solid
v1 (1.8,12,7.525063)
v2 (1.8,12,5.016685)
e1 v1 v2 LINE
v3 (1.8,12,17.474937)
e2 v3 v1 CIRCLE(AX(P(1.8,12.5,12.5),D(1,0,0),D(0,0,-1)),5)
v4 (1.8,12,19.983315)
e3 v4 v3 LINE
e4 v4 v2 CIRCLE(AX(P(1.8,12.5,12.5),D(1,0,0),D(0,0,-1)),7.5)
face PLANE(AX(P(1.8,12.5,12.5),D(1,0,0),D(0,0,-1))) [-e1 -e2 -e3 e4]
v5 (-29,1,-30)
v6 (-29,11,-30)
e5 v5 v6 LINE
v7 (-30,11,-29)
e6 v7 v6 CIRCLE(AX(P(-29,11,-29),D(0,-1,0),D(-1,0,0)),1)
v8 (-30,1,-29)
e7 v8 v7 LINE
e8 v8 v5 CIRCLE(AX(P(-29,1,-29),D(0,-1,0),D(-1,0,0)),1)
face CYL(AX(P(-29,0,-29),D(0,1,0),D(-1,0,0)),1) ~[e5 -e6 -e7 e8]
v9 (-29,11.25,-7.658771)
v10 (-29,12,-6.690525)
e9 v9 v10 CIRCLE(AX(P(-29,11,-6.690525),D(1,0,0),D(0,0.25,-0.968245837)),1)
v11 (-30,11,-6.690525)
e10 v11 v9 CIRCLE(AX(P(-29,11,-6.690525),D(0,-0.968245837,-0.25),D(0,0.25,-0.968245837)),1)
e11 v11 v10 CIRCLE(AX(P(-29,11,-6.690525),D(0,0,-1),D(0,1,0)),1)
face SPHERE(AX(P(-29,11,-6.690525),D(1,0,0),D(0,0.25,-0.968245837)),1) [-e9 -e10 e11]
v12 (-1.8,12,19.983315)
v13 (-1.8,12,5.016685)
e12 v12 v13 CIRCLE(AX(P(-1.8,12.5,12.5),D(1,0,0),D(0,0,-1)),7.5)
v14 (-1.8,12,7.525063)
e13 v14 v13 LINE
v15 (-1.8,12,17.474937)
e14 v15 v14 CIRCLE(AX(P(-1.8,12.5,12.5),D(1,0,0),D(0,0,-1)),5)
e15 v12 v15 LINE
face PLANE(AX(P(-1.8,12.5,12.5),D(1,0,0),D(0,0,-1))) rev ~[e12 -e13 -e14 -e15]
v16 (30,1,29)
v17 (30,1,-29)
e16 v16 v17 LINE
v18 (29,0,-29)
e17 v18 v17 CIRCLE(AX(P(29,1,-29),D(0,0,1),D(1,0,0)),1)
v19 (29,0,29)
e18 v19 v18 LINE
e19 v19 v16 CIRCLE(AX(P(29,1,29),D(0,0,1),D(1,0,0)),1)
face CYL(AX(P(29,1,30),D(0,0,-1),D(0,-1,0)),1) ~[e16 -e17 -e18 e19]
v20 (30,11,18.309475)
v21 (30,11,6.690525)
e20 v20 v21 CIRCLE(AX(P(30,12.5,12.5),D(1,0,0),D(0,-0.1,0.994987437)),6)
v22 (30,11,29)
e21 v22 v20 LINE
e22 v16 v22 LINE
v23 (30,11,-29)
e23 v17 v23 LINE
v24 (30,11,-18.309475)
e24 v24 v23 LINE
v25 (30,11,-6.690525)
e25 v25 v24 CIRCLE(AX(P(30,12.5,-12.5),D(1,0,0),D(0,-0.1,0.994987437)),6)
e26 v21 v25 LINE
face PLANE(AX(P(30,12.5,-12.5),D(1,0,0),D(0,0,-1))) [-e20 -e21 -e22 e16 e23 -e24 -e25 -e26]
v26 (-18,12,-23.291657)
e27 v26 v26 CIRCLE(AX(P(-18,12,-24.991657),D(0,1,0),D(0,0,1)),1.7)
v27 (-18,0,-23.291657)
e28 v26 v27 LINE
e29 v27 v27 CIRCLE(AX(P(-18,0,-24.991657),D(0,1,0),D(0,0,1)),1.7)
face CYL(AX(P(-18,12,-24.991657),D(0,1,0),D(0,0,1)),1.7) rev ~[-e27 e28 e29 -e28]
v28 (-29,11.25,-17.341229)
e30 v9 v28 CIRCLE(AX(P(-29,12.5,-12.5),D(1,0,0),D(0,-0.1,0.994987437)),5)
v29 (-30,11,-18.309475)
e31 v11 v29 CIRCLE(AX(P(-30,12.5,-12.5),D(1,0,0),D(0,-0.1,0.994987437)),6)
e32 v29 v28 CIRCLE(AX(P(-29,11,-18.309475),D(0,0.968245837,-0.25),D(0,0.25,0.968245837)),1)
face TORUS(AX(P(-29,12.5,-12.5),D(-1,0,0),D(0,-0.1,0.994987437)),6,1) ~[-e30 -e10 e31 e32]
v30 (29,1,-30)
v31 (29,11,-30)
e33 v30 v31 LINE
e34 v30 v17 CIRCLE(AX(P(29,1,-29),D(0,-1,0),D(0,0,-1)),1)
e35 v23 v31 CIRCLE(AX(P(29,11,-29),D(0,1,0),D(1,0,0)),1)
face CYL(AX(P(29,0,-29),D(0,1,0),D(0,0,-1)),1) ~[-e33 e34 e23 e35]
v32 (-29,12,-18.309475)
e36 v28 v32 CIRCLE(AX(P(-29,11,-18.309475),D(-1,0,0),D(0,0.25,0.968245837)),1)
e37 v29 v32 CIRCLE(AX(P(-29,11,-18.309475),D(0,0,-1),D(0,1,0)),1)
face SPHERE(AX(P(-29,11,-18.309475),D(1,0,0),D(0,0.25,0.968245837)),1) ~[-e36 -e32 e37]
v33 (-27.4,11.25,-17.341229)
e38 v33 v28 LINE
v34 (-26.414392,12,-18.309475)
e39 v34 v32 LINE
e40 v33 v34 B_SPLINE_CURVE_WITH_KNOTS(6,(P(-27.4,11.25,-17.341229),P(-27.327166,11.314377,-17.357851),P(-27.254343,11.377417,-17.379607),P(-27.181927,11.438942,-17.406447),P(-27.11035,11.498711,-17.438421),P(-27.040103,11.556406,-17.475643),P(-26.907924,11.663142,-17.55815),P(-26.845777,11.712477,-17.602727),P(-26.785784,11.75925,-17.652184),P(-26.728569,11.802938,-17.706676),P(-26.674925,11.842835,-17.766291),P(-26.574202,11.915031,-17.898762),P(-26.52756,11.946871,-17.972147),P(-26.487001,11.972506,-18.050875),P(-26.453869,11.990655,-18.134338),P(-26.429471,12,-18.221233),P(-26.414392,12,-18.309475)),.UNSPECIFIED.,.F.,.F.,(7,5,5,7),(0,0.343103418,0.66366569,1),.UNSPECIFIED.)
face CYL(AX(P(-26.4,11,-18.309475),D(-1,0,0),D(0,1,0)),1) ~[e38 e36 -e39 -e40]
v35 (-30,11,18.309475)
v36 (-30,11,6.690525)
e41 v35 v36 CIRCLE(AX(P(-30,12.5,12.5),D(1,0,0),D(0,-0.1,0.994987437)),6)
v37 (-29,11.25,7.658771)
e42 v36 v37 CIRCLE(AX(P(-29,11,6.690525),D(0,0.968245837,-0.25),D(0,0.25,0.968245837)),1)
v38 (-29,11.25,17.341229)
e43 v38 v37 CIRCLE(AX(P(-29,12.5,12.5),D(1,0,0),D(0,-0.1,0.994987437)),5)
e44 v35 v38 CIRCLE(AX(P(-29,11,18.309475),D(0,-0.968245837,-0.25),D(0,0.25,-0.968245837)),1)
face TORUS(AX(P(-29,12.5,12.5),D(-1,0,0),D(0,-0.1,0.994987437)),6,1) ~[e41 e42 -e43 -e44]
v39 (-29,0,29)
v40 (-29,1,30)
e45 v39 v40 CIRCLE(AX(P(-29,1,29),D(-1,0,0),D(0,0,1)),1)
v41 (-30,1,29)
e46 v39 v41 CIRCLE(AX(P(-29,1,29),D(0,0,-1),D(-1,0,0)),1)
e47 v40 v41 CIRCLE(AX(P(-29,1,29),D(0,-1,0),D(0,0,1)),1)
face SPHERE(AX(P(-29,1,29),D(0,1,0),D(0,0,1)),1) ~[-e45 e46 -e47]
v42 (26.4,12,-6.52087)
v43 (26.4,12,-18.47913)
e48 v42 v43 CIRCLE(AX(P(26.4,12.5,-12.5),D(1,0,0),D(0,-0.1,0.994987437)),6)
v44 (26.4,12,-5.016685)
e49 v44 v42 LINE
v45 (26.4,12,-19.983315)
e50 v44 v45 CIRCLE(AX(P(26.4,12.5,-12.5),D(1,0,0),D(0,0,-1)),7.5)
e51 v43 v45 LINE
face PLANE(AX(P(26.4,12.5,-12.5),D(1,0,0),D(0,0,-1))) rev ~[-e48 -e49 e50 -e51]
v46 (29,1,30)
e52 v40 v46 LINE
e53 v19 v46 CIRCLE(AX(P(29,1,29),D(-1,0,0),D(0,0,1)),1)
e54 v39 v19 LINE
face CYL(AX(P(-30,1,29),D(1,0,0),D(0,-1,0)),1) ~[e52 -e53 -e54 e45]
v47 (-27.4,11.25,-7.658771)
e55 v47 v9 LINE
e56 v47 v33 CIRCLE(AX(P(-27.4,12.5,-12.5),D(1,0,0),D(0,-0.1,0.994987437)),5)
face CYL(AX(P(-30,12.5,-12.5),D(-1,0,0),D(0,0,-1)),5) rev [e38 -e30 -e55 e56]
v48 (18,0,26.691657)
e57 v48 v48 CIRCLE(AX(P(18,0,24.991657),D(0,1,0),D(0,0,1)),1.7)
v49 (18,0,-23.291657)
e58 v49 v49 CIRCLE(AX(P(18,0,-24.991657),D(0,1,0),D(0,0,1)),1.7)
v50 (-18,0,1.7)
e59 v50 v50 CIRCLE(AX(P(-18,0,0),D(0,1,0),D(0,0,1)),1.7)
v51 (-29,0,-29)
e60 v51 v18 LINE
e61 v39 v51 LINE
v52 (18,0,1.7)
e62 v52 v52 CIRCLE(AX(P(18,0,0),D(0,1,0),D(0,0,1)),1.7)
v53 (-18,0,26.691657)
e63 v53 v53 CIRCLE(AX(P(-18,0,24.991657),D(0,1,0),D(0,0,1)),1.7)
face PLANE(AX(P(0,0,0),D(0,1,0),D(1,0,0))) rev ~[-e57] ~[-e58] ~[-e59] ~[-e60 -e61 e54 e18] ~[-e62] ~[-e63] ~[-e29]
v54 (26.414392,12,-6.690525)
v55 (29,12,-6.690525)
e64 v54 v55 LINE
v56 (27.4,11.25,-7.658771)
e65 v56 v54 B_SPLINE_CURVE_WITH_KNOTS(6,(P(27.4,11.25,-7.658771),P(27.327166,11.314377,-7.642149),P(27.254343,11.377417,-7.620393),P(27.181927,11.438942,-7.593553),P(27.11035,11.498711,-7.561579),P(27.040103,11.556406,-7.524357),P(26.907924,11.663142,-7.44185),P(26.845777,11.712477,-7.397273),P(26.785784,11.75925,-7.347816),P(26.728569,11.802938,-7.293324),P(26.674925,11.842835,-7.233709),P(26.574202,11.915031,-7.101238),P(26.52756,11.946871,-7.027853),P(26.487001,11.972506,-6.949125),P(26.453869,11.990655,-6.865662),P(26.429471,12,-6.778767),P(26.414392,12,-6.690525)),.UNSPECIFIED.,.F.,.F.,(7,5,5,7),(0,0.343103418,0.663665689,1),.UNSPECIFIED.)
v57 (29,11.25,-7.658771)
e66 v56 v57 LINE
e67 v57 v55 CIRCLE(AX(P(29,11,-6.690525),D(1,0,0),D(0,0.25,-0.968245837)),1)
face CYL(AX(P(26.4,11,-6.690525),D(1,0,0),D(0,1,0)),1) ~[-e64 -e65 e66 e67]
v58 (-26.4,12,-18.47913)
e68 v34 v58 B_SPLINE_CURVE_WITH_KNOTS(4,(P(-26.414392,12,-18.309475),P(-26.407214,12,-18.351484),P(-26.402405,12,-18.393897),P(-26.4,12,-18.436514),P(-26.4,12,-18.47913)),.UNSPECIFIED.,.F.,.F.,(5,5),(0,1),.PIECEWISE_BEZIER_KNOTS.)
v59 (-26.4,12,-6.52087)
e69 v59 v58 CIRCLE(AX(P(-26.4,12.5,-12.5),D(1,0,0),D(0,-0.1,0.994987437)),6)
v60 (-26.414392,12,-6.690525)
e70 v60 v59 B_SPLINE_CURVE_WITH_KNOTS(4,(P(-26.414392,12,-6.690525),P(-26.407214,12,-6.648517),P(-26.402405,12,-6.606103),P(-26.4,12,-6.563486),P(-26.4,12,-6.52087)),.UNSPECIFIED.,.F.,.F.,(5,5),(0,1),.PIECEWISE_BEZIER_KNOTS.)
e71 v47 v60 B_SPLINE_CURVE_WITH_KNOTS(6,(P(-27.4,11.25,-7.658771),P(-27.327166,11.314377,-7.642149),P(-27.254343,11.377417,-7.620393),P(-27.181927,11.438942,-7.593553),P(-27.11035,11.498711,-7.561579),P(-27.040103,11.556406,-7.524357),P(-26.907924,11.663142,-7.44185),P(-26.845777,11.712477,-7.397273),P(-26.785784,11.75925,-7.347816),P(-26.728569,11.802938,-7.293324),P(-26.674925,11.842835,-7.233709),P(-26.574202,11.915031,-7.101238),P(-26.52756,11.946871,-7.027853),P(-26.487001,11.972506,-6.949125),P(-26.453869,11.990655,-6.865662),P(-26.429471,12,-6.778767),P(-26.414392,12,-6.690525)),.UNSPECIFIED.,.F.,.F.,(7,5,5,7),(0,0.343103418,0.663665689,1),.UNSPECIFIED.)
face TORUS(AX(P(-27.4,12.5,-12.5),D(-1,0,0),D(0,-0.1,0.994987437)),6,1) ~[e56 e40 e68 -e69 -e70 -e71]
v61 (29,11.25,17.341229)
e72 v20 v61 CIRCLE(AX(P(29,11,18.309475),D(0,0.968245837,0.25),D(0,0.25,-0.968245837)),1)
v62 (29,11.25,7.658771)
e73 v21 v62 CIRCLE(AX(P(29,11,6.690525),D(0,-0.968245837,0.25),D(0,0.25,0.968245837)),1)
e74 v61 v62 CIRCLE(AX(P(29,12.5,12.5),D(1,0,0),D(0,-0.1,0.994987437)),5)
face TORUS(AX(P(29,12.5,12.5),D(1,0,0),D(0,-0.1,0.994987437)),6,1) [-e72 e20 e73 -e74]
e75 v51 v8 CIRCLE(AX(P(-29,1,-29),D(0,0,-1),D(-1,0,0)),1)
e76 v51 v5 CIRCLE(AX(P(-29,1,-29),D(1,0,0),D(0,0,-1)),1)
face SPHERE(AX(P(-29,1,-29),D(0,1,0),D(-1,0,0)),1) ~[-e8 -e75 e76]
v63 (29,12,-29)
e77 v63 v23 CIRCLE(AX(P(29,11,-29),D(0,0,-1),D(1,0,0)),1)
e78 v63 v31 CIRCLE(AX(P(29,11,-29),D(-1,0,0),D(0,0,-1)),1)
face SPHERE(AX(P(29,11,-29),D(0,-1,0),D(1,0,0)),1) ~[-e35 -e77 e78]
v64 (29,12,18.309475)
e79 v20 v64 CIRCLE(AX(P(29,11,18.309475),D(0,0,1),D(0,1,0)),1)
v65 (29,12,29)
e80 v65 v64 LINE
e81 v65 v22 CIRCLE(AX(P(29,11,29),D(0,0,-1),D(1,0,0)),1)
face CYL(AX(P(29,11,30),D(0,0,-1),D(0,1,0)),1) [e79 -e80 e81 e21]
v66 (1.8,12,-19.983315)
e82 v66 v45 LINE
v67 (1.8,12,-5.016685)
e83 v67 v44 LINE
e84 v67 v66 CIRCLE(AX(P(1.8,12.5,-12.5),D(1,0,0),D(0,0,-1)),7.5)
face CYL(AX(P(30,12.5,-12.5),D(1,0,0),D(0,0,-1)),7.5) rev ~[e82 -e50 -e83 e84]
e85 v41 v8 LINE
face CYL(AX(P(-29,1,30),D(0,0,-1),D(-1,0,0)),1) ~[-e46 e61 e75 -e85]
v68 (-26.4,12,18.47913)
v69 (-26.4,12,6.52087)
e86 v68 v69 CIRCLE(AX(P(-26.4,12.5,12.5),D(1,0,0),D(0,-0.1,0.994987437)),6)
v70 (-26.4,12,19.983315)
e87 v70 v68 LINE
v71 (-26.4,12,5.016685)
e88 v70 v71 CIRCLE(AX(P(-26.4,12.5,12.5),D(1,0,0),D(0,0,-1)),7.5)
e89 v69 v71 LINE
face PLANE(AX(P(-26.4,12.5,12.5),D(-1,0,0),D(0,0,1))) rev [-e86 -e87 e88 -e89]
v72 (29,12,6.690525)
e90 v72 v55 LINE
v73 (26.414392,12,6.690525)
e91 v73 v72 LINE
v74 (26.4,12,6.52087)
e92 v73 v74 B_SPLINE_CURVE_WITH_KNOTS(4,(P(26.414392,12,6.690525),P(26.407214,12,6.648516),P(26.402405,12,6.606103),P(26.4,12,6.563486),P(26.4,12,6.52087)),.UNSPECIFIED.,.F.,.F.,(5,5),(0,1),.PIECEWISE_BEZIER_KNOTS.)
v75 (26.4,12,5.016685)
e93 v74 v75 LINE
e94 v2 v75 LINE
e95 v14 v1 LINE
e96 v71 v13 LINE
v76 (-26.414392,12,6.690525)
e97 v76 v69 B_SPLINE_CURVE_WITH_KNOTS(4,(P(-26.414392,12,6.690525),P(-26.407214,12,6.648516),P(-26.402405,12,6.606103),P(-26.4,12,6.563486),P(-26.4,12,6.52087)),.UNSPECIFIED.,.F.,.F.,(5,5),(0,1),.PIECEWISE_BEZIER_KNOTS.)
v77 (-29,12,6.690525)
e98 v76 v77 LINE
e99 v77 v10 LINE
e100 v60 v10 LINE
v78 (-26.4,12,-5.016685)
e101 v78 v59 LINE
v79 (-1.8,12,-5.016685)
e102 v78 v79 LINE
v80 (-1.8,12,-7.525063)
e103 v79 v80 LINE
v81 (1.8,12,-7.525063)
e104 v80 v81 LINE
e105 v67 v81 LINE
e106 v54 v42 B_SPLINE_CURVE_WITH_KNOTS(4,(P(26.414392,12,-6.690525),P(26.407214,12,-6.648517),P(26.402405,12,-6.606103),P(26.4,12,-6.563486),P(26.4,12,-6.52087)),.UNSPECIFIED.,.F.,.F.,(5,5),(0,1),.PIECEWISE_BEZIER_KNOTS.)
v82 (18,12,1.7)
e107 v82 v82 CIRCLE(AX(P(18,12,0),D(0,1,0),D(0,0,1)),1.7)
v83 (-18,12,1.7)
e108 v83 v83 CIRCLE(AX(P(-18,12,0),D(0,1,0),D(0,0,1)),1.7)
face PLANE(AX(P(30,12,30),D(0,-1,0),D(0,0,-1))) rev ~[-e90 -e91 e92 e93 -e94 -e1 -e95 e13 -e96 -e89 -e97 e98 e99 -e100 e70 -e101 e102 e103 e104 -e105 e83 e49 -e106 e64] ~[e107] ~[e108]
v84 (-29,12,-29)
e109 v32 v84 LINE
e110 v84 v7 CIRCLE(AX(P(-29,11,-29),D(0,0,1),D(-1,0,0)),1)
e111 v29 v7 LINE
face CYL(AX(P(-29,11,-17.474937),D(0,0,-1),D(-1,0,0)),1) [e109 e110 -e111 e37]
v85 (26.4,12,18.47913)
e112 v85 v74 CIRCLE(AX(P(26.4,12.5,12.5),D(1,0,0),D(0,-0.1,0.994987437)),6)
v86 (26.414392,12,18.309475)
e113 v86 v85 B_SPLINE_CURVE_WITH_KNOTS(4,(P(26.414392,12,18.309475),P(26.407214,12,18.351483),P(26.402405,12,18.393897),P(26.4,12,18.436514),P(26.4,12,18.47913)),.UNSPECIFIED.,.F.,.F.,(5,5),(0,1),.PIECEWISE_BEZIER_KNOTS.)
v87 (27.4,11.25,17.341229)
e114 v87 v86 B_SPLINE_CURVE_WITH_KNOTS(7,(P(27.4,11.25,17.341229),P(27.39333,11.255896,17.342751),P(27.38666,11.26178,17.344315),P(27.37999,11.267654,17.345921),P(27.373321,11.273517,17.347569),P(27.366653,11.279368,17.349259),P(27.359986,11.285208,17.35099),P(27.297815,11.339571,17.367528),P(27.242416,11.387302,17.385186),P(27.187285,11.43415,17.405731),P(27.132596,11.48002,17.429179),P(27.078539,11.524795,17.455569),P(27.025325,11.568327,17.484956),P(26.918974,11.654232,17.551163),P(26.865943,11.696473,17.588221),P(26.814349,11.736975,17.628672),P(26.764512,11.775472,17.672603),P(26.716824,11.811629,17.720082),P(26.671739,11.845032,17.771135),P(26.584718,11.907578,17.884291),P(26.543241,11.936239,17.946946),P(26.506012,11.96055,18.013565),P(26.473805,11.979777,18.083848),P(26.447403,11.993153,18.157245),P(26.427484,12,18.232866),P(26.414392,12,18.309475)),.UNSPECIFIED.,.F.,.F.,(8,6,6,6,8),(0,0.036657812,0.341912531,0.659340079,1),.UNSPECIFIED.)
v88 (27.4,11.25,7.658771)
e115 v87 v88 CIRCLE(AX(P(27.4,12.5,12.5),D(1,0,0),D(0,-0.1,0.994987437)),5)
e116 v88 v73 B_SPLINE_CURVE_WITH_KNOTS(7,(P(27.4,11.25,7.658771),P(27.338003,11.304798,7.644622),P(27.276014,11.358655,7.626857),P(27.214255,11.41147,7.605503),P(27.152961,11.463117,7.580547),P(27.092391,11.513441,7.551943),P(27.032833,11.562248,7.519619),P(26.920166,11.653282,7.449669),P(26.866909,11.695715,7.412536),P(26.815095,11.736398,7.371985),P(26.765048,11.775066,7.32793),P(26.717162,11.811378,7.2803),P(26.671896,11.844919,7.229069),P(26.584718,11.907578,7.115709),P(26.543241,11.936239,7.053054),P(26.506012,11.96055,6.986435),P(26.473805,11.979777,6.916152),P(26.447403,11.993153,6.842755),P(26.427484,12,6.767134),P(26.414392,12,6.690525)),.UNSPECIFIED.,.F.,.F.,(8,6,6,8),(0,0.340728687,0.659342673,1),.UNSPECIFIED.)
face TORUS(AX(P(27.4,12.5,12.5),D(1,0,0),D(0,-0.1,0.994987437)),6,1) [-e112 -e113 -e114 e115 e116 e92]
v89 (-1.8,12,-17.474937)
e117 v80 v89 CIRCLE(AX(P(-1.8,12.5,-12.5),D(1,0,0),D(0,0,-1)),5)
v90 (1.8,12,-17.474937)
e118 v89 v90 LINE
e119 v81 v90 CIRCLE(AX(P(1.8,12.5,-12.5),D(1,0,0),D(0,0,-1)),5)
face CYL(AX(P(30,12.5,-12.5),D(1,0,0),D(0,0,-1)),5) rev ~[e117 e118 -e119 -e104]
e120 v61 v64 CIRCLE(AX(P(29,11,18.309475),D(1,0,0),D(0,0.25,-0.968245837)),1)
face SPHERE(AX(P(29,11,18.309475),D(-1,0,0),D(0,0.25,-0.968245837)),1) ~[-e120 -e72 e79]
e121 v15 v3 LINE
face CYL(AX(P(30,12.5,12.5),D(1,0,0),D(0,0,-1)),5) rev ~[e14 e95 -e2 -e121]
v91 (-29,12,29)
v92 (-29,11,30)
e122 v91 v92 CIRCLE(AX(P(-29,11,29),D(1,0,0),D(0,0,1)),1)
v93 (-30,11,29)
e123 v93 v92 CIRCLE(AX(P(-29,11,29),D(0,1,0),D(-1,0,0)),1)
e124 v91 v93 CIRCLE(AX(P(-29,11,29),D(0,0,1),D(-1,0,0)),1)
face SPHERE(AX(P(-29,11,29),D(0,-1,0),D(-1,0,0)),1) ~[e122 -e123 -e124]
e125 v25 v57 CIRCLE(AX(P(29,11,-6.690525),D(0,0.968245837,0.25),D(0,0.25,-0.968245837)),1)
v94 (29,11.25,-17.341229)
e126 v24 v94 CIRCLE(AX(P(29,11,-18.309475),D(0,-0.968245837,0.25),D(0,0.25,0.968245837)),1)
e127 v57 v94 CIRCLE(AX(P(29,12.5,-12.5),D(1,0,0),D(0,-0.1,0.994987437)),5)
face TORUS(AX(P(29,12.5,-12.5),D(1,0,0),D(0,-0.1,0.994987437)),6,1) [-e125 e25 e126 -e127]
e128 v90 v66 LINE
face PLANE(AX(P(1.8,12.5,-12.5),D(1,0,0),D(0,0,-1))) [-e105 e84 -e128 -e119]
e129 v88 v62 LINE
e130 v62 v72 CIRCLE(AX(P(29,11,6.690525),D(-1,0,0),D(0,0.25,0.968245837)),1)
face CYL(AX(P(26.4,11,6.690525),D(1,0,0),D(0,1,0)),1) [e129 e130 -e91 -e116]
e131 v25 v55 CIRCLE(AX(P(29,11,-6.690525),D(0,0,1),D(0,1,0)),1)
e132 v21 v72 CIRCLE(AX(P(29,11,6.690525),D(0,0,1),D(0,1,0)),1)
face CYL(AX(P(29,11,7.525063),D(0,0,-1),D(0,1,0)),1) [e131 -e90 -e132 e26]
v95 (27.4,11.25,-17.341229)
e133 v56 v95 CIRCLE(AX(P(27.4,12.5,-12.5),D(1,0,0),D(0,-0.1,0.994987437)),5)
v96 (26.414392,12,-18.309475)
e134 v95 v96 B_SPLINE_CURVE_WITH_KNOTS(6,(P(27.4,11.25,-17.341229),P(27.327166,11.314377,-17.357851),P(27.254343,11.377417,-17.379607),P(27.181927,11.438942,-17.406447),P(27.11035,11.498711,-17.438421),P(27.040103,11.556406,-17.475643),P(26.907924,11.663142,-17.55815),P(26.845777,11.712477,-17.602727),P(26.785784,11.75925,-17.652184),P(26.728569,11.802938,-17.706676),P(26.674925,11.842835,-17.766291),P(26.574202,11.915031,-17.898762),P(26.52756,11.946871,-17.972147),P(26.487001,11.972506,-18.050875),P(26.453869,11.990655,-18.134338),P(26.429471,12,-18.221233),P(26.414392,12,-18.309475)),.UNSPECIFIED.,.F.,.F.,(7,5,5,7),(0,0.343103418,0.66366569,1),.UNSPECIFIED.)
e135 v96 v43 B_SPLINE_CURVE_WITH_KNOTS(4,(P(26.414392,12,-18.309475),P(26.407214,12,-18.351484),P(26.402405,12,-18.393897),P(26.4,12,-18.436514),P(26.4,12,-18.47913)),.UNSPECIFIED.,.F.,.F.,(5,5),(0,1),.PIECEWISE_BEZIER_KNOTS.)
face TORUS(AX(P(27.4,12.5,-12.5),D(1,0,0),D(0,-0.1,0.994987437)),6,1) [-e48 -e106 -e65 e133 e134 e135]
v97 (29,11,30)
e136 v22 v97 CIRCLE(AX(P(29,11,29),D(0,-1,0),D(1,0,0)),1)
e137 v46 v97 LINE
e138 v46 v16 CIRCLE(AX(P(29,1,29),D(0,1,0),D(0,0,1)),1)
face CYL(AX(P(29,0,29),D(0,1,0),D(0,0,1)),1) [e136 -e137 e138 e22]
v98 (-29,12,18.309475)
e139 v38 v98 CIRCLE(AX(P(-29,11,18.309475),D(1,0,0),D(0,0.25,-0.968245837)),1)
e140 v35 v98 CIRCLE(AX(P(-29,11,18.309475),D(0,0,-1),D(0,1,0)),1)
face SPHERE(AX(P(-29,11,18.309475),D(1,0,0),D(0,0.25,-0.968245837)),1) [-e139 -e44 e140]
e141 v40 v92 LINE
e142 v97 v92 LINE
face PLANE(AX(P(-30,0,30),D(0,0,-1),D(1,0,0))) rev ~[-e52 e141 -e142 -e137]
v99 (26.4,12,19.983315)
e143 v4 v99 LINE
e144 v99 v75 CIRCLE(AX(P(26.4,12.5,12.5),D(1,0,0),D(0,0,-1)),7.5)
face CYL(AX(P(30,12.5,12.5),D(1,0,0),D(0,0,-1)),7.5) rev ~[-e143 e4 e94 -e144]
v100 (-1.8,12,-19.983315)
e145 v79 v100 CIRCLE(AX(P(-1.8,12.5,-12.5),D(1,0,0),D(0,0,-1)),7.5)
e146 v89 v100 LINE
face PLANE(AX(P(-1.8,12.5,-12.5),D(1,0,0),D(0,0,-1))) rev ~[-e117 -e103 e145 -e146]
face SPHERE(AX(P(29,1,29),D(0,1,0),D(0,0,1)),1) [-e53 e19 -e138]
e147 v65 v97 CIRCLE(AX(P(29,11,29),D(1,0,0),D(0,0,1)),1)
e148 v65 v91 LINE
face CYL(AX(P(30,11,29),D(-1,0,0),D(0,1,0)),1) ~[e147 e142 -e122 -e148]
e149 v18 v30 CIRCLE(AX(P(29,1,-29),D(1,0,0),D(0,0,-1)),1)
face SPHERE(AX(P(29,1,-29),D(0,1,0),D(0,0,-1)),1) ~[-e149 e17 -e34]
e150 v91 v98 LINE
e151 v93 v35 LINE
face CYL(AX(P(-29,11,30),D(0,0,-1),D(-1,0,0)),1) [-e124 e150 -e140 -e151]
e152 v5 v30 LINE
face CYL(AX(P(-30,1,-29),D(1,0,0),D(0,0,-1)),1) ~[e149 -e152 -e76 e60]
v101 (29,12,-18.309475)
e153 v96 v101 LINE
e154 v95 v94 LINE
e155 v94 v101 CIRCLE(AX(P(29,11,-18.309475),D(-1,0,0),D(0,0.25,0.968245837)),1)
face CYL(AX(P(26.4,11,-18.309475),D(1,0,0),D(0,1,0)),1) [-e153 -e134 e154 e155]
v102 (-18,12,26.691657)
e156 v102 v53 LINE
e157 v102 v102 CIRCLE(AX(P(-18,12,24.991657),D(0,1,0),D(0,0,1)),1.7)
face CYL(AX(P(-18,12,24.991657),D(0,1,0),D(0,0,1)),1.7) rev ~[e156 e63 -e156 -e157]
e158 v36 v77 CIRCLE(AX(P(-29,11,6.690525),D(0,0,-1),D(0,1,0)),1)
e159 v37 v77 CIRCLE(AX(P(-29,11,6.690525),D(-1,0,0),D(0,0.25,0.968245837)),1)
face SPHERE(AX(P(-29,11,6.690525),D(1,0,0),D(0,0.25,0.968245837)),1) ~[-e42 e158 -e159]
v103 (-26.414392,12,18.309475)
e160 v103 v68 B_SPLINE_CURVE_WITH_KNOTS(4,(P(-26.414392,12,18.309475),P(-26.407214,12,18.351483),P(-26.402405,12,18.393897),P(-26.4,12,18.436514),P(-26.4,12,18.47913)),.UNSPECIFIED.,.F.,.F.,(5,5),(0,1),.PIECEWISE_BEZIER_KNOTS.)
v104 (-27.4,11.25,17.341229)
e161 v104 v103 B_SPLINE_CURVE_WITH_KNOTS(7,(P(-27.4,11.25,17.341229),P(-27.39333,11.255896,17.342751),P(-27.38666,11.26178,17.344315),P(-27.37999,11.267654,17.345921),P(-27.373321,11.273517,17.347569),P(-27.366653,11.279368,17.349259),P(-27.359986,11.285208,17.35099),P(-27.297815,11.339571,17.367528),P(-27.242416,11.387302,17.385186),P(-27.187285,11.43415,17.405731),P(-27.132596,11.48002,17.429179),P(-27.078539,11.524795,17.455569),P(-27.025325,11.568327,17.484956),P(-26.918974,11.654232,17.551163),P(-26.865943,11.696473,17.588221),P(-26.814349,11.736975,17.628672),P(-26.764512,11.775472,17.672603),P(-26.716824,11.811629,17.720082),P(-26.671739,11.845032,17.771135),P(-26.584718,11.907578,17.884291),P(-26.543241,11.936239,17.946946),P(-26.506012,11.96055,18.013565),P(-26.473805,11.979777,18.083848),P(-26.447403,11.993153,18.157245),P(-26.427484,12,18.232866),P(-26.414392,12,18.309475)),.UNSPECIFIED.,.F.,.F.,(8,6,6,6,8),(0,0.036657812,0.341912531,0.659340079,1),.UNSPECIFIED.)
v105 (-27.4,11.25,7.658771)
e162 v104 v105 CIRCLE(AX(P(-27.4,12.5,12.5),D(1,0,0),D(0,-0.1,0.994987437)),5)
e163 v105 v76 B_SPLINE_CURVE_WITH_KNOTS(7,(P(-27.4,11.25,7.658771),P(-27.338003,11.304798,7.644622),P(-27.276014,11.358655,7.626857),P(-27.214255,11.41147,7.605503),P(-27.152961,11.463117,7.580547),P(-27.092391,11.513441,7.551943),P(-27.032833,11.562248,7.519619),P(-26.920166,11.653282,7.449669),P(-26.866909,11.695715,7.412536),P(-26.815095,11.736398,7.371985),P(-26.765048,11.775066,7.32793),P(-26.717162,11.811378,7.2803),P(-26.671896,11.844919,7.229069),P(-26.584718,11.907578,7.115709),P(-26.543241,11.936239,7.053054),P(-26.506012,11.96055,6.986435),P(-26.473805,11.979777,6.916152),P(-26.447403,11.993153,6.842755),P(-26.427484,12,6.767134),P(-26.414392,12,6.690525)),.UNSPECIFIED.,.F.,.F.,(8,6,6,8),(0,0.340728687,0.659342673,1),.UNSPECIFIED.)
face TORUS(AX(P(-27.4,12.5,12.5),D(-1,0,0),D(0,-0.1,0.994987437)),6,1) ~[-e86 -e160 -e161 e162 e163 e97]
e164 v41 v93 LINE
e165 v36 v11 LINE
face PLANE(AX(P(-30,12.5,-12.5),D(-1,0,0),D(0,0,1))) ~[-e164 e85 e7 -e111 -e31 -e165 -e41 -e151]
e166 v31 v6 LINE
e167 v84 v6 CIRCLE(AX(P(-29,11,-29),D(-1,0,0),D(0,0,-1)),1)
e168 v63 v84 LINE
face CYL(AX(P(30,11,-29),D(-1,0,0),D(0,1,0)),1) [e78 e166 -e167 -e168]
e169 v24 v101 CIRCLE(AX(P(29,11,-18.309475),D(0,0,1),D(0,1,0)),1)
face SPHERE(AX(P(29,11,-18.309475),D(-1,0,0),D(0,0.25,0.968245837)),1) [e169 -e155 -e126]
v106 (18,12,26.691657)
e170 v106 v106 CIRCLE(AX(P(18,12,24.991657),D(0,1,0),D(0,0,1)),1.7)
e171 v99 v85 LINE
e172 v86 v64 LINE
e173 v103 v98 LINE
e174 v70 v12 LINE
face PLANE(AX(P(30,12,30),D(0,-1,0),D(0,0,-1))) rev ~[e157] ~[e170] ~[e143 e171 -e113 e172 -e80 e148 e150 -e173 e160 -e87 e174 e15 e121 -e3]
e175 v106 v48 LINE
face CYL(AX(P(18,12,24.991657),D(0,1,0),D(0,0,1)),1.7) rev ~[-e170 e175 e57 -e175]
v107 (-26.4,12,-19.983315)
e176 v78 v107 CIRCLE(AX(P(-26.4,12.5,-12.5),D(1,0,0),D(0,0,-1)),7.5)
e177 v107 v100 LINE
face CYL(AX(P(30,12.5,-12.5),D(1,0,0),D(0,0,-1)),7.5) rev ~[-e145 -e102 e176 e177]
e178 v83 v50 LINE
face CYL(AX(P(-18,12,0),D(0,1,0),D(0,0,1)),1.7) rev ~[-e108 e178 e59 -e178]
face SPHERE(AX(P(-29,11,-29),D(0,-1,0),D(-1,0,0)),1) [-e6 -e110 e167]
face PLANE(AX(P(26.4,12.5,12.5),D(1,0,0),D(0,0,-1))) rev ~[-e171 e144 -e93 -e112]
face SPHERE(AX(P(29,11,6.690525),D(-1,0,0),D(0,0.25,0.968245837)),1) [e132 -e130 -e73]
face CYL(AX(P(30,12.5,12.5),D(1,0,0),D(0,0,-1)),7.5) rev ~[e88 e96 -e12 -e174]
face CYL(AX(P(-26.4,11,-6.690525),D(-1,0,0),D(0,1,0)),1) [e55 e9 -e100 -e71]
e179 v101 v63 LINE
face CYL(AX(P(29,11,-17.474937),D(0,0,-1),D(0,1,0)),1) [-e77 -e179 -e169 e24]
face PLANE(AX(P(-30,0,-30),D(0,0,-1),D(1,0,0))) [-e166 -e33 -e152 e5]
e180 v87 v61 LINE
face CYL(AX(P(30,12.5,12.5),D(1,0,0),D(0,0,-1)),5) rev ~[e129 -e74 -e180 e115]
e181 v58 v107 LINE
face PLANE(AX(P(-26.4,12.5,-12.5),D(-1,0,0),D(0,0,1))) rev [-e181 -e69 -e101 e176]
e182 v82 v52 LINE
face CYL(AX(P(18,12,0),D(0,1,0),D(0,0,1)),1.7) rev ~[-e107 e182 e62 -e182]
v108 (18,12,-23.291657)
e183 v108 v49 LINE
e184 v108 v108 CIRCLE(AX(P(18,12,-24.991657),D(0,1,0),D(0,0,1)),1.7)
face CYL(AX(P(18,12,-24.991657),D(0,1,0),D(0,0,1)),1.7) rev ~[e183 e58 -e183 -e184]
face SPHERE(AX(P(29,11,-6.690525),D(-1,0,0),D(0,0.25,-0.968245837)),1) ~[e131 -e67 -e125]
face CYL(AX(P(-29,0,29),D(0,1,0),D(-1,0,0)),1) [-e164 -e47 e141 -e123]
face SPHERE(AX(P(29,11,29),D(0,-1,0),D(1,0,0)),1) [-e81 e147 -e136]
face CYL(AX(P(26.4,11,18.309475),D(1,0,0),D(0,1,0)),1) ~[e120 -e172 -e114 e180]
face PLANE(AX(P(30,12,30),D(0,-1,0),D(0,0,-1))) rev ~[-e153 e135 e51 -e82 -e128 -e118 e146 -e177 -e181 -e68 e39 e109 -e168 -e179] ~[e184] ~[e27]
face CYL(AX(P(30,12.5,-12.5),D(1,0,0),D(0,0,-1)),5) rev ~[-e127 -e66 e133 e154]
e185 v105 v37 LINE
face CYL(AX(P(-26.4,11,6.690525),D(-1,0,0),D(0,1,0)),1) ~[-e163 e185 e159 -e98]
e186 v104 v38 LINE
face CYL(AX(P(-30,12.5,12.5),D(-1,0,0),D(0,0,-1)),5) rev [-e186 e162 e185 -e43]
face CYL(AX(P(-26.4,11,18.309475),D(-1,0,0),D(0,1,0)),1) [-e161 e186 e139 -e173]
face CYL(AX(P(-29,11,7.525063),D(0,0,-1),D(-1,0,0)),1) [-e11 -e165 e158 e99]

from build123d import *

# Parameters (mm, degrees)
SKETCH1_W           = 60
SKETCH1_H           = 60
BOSS_EXTRUDE1_DEPTH = 25
CUT_EXTRUDE1_REACH  = 73.589
SKETCH2_R           = 7.5
SKETCH3_R           = 2
CUT_EXTRUDE2_DEPTH  = 5
SKETCH7_R           = 7.5
BOSS_EXTRUDE2_DEPTH = 1.8
SKETCH8_R           = 7.5
SKETCH8_R_2         = 5
BOSS_EXTRUDE3_DEPTH = 3.6
SKETCH4_W           = 60
SKETCH4_H           = 1
CUT_EXTRUDE3_DEPTH  = 72.589105316
SKETCH5_R           = 1.7
CUT_EXTRUDE4_DEPTH  = 45.09081537
FILLET1_R           = 1
SKETCH9_R           = 5
CUT_EXTRUDE5_DEPTH  = 69.146900167


with BuildPart() as part:
    # Sketch1 → Boss-Extrude1 (new body)
    with BuildSketch(Plane(origin=(0, 0, 0), x_dir=(1, 0, 0), z_dir=(0, 1, 0))):
        Rectangle(SKETCH1_W, SKETCH1_H)
    extrude(amount=BOSS_EXTRUDE1_DEPTH)

    # Sketch2 → Cut-Extrude1 (cut, up to next)
    with BuildSketch(Plane(origin=(30, 0, 0), x_dir=(0, 0, -1), z_dir=(1, 0, 0)), mode=Mode.PRIVATE) as cut_extrude1_sk1:
        with Locations((-12.5, 12.5)):
            Circle(SKETCH2_R)
    cut_extrude1_tool1 = extrude(cut_extrude1_sk1.sketch, amount=-CUT_EXTRUDE1_REACH, mode=Mode.PRIVATE) & part.part
    # Sketch2 → Cut-Extrude1 (cut, up to next)
    with BuildSketch(Plane(origin=(30, 0, 0), x_dir=(0, 0, -1), z_dir=(1, 0, 0)), mode=Mode.PRIVATE) as cut_extrude1_sk2:
        with Locations((12.5, 12.5)):
            Circle(SKETCH2_R)
    cut_extrude1_tool2 = extrude(cut_extrude1_sk2.sketch, amount=-CUT_EXTRUDE1_REACH, mode=Mode.PRIVATE) & part.part
    add(cut_extrude1_tool1.solids().sort_by_distance((30, 12.5, 12.5))[0], mode=Mode.SUBTRACT)
    add(cut_extrude1_tool2.solids().sort_by_distance((30, 12.5, -12.5))[0], mode=Mode.SUBTRACT)

    # Sketch3 → Cut-Extrude2 (cut)
    with BuildSketch(Plane(origin=(0, 25, 0), x_dir=(1, 0, 0), z_dir=(0, 1, 0))):
        with Locations(Location((0, 25, 0), (0, 0, 270))):
            Circle(SKETCH3_R)
        with Locations(Location((0, -25, 0), (0, 0, 270))):
            Circle(SKETCH3_R)
        with Locations(Location((-25, 25, 0), (0, 0, 270))):
            Circle(SKETCH3_R)
        with Locations(Location((-25, -25, 0), (0, 0, 270))):
            Circle(SKETCH3_R)
        with Locations(Location((25, -25, 0), (0, 0, 270))):
            Circle(SKETCH3_R)
        with Locations(Location((25, 25, 0), (0, 0, 270))):
            Circle(SKETCH3_R)
    extrude(amount=-CUT_EXTRUDE2_DEPTH, mode=Mode.SUBTRACT)

    # Sketch7 → Boss-Extrude2 (add, symmetric)
    with BuildSketch(Plane(origin=(0, 0, 0), x_dir=(0, 0, -1), z_dir=(1, 0, 0))):
        with Locations((12.5, 12.5)):
            Circle(SKETCH7_R)
        with Locations((-12.5, 12.5)):
            Circle(SKETCH7_R)
    extrude(amount=BOSS_EXTRUDE2_DEPTH, both=True)

    # Sketch8 → Boss-Extrude3 (add)
    # profile 1 of 2: a face of its own
    with BuildSketch(Plane(origin=(30, 0, 0), x_dir=(0, 0, -1), z_dir=(1, 0, 0))):
        with Locations((12.5, 12.5)):
            Circle(SKETCH8_R)
        with Locations((12.5, 12.5)):
            Circle(SKETCH8_R_2, mode=Mode.SUBTRACT)
    # profile 2 of 2: a face of its own
    with BuildSketch(Plane(origin=(30, 0, 0), x_dir=(0, 0, -1), z_dir=(1, 0, 0))):
        with Locations((-12.5, 12.5)):
            Circle(SKETCH8_R)
        with Locations((-12.5, 12.5)):
            Circle(SKETCH8_R_2, mode=Mode.SUBTRACT)
    boss_extrude3 = extrude(amount=-BOSS_EXTRUDE3_DEPTH)

    # Mirror1: Boss-Extrude3 across plane
    add(boss_extrude3.mirror(Plane(origin=(0, 0, 0), x_dir=(0, 0, 1), z_dir=(1, 0, 0))))

    # Sketch4 → Cut-Extrude3 (cut, through all)
    with BuildSketch(Plane(origin=(30, 0, 0), x_dir=(0, 0, -1), z_dir=(1, 0, 0))):
        with Locations((0, 12.5)):
            Rectangle(SKETCH4_W, SKETCH4_H)
    extrude(amount=-CUT_EXTRUDE3_DEPTH, mode=Mode.SUBTRACT)


with BuildPart() as cut_extrude3_kept_piece:
    # of the separate pieces the step leaves, the one the design keeps (cut_extrude3_pieces_kept)
    add(part.part.solids().sort_by_distance((-30, 0, 30))[0])

    # Sketch5 → Cut-Extrude4 (cut, through all)
    with BuildSketch(Plane(origin=(0, 12, 0), x_dir=(1, 0, 0), z_dir=(0, 1, 0))):
        with Locations(Location((-18, -24.991657387, 0), (0, 0, 270))):
            Circle(SKETCH5_R)
        with Locations(Location((18, -24.991657387, 0), (0, 0, 270))):
            Circle(SKETCH5_R)
        with Locations(Location((18, 24.991657387, 0), (0, 0, 270))):
            Circle(SKETCH5_R)
        with Locations(Location((-18, 24.991657387, 0), (0, 0, 270))):
            Circle(SKETCH5_R)
        with Locations(Location((18, 0, 0), (0, 0, 270))):
            Circle(SKETCH5_R)
        with Locations(Location((-18, 0, 0), (0, 0, 270))):
            Circle(SKETCH5_R)
    extrude(amount=-CUT_EXTRUDE4_DEPTH, mode=Mode.SUBTRACT)

    # Fillet1
    fillet1_edges = [cut_extrude3_kept_piece.edges().sort_by_distance(p)[0] for p in [
        (-26.4, 7.5, -12.5),
        (-30, 7.5, -12.5),
        (-26.4, 7.5, 12.5),
        (-30, 7.5, 12.5),
        (26.4, 7.5, -12.5),
        (30, 7.5, -12.5),
        (26.4, 7.5, 12.5),
        (30, 7.5, 12.5),
        (30, 6, 30),
        (-30, 6, 30),
        (-30, 6, -30),
        (30, 6, -30),
        (30, 12, 0),
        (30, 12, 23.737468593),
        (30, 12, -23.737468593),
        (28.2, 12, 7.525062814),
        (28.2, 12, 17.474937186),
        (-30, 12, 23.737468593),
        (-30, 12, 0),
        (-30, 12, -23.737468593),
        (0, 12, -30),
        (28.2, 12, -17.474937186),
        (28.2, 12, -7.525062814),
        (-28.2, 12, 7.525062814),
        (-28.2, 12, 17.474937186),
        (-28.2, 12, -17.474937186),
        (-28.2, 12, -7.525062814),
        (0, 12, 30),
        (0, 0, 30),
        (-30, 0, 0),
        (0, 0, -30),
        (30, 0, 0),
    ]]
    fillet(fillet1_edges, radius=FILLET1_R)

    # Sketch9 → Cut-Extrude5 (cut, through all)
    with BuildSketch(Plane(origin=(30, 0, 0), x_dir=(0, 0, -1), z_dir=(1, 0, 0))):
        with Locations((12.5, 12.5)):
            Circle(SKETCH9_R)
        with Locations((-12.5, 12.5)):
            Circle(SKETCH9_R)
    extrude(amount=-CUT_EXTRUDE5_DEPTH, mode=Mode.SUBTRACT)


solid = cut_extrude3_kept_piece.part
